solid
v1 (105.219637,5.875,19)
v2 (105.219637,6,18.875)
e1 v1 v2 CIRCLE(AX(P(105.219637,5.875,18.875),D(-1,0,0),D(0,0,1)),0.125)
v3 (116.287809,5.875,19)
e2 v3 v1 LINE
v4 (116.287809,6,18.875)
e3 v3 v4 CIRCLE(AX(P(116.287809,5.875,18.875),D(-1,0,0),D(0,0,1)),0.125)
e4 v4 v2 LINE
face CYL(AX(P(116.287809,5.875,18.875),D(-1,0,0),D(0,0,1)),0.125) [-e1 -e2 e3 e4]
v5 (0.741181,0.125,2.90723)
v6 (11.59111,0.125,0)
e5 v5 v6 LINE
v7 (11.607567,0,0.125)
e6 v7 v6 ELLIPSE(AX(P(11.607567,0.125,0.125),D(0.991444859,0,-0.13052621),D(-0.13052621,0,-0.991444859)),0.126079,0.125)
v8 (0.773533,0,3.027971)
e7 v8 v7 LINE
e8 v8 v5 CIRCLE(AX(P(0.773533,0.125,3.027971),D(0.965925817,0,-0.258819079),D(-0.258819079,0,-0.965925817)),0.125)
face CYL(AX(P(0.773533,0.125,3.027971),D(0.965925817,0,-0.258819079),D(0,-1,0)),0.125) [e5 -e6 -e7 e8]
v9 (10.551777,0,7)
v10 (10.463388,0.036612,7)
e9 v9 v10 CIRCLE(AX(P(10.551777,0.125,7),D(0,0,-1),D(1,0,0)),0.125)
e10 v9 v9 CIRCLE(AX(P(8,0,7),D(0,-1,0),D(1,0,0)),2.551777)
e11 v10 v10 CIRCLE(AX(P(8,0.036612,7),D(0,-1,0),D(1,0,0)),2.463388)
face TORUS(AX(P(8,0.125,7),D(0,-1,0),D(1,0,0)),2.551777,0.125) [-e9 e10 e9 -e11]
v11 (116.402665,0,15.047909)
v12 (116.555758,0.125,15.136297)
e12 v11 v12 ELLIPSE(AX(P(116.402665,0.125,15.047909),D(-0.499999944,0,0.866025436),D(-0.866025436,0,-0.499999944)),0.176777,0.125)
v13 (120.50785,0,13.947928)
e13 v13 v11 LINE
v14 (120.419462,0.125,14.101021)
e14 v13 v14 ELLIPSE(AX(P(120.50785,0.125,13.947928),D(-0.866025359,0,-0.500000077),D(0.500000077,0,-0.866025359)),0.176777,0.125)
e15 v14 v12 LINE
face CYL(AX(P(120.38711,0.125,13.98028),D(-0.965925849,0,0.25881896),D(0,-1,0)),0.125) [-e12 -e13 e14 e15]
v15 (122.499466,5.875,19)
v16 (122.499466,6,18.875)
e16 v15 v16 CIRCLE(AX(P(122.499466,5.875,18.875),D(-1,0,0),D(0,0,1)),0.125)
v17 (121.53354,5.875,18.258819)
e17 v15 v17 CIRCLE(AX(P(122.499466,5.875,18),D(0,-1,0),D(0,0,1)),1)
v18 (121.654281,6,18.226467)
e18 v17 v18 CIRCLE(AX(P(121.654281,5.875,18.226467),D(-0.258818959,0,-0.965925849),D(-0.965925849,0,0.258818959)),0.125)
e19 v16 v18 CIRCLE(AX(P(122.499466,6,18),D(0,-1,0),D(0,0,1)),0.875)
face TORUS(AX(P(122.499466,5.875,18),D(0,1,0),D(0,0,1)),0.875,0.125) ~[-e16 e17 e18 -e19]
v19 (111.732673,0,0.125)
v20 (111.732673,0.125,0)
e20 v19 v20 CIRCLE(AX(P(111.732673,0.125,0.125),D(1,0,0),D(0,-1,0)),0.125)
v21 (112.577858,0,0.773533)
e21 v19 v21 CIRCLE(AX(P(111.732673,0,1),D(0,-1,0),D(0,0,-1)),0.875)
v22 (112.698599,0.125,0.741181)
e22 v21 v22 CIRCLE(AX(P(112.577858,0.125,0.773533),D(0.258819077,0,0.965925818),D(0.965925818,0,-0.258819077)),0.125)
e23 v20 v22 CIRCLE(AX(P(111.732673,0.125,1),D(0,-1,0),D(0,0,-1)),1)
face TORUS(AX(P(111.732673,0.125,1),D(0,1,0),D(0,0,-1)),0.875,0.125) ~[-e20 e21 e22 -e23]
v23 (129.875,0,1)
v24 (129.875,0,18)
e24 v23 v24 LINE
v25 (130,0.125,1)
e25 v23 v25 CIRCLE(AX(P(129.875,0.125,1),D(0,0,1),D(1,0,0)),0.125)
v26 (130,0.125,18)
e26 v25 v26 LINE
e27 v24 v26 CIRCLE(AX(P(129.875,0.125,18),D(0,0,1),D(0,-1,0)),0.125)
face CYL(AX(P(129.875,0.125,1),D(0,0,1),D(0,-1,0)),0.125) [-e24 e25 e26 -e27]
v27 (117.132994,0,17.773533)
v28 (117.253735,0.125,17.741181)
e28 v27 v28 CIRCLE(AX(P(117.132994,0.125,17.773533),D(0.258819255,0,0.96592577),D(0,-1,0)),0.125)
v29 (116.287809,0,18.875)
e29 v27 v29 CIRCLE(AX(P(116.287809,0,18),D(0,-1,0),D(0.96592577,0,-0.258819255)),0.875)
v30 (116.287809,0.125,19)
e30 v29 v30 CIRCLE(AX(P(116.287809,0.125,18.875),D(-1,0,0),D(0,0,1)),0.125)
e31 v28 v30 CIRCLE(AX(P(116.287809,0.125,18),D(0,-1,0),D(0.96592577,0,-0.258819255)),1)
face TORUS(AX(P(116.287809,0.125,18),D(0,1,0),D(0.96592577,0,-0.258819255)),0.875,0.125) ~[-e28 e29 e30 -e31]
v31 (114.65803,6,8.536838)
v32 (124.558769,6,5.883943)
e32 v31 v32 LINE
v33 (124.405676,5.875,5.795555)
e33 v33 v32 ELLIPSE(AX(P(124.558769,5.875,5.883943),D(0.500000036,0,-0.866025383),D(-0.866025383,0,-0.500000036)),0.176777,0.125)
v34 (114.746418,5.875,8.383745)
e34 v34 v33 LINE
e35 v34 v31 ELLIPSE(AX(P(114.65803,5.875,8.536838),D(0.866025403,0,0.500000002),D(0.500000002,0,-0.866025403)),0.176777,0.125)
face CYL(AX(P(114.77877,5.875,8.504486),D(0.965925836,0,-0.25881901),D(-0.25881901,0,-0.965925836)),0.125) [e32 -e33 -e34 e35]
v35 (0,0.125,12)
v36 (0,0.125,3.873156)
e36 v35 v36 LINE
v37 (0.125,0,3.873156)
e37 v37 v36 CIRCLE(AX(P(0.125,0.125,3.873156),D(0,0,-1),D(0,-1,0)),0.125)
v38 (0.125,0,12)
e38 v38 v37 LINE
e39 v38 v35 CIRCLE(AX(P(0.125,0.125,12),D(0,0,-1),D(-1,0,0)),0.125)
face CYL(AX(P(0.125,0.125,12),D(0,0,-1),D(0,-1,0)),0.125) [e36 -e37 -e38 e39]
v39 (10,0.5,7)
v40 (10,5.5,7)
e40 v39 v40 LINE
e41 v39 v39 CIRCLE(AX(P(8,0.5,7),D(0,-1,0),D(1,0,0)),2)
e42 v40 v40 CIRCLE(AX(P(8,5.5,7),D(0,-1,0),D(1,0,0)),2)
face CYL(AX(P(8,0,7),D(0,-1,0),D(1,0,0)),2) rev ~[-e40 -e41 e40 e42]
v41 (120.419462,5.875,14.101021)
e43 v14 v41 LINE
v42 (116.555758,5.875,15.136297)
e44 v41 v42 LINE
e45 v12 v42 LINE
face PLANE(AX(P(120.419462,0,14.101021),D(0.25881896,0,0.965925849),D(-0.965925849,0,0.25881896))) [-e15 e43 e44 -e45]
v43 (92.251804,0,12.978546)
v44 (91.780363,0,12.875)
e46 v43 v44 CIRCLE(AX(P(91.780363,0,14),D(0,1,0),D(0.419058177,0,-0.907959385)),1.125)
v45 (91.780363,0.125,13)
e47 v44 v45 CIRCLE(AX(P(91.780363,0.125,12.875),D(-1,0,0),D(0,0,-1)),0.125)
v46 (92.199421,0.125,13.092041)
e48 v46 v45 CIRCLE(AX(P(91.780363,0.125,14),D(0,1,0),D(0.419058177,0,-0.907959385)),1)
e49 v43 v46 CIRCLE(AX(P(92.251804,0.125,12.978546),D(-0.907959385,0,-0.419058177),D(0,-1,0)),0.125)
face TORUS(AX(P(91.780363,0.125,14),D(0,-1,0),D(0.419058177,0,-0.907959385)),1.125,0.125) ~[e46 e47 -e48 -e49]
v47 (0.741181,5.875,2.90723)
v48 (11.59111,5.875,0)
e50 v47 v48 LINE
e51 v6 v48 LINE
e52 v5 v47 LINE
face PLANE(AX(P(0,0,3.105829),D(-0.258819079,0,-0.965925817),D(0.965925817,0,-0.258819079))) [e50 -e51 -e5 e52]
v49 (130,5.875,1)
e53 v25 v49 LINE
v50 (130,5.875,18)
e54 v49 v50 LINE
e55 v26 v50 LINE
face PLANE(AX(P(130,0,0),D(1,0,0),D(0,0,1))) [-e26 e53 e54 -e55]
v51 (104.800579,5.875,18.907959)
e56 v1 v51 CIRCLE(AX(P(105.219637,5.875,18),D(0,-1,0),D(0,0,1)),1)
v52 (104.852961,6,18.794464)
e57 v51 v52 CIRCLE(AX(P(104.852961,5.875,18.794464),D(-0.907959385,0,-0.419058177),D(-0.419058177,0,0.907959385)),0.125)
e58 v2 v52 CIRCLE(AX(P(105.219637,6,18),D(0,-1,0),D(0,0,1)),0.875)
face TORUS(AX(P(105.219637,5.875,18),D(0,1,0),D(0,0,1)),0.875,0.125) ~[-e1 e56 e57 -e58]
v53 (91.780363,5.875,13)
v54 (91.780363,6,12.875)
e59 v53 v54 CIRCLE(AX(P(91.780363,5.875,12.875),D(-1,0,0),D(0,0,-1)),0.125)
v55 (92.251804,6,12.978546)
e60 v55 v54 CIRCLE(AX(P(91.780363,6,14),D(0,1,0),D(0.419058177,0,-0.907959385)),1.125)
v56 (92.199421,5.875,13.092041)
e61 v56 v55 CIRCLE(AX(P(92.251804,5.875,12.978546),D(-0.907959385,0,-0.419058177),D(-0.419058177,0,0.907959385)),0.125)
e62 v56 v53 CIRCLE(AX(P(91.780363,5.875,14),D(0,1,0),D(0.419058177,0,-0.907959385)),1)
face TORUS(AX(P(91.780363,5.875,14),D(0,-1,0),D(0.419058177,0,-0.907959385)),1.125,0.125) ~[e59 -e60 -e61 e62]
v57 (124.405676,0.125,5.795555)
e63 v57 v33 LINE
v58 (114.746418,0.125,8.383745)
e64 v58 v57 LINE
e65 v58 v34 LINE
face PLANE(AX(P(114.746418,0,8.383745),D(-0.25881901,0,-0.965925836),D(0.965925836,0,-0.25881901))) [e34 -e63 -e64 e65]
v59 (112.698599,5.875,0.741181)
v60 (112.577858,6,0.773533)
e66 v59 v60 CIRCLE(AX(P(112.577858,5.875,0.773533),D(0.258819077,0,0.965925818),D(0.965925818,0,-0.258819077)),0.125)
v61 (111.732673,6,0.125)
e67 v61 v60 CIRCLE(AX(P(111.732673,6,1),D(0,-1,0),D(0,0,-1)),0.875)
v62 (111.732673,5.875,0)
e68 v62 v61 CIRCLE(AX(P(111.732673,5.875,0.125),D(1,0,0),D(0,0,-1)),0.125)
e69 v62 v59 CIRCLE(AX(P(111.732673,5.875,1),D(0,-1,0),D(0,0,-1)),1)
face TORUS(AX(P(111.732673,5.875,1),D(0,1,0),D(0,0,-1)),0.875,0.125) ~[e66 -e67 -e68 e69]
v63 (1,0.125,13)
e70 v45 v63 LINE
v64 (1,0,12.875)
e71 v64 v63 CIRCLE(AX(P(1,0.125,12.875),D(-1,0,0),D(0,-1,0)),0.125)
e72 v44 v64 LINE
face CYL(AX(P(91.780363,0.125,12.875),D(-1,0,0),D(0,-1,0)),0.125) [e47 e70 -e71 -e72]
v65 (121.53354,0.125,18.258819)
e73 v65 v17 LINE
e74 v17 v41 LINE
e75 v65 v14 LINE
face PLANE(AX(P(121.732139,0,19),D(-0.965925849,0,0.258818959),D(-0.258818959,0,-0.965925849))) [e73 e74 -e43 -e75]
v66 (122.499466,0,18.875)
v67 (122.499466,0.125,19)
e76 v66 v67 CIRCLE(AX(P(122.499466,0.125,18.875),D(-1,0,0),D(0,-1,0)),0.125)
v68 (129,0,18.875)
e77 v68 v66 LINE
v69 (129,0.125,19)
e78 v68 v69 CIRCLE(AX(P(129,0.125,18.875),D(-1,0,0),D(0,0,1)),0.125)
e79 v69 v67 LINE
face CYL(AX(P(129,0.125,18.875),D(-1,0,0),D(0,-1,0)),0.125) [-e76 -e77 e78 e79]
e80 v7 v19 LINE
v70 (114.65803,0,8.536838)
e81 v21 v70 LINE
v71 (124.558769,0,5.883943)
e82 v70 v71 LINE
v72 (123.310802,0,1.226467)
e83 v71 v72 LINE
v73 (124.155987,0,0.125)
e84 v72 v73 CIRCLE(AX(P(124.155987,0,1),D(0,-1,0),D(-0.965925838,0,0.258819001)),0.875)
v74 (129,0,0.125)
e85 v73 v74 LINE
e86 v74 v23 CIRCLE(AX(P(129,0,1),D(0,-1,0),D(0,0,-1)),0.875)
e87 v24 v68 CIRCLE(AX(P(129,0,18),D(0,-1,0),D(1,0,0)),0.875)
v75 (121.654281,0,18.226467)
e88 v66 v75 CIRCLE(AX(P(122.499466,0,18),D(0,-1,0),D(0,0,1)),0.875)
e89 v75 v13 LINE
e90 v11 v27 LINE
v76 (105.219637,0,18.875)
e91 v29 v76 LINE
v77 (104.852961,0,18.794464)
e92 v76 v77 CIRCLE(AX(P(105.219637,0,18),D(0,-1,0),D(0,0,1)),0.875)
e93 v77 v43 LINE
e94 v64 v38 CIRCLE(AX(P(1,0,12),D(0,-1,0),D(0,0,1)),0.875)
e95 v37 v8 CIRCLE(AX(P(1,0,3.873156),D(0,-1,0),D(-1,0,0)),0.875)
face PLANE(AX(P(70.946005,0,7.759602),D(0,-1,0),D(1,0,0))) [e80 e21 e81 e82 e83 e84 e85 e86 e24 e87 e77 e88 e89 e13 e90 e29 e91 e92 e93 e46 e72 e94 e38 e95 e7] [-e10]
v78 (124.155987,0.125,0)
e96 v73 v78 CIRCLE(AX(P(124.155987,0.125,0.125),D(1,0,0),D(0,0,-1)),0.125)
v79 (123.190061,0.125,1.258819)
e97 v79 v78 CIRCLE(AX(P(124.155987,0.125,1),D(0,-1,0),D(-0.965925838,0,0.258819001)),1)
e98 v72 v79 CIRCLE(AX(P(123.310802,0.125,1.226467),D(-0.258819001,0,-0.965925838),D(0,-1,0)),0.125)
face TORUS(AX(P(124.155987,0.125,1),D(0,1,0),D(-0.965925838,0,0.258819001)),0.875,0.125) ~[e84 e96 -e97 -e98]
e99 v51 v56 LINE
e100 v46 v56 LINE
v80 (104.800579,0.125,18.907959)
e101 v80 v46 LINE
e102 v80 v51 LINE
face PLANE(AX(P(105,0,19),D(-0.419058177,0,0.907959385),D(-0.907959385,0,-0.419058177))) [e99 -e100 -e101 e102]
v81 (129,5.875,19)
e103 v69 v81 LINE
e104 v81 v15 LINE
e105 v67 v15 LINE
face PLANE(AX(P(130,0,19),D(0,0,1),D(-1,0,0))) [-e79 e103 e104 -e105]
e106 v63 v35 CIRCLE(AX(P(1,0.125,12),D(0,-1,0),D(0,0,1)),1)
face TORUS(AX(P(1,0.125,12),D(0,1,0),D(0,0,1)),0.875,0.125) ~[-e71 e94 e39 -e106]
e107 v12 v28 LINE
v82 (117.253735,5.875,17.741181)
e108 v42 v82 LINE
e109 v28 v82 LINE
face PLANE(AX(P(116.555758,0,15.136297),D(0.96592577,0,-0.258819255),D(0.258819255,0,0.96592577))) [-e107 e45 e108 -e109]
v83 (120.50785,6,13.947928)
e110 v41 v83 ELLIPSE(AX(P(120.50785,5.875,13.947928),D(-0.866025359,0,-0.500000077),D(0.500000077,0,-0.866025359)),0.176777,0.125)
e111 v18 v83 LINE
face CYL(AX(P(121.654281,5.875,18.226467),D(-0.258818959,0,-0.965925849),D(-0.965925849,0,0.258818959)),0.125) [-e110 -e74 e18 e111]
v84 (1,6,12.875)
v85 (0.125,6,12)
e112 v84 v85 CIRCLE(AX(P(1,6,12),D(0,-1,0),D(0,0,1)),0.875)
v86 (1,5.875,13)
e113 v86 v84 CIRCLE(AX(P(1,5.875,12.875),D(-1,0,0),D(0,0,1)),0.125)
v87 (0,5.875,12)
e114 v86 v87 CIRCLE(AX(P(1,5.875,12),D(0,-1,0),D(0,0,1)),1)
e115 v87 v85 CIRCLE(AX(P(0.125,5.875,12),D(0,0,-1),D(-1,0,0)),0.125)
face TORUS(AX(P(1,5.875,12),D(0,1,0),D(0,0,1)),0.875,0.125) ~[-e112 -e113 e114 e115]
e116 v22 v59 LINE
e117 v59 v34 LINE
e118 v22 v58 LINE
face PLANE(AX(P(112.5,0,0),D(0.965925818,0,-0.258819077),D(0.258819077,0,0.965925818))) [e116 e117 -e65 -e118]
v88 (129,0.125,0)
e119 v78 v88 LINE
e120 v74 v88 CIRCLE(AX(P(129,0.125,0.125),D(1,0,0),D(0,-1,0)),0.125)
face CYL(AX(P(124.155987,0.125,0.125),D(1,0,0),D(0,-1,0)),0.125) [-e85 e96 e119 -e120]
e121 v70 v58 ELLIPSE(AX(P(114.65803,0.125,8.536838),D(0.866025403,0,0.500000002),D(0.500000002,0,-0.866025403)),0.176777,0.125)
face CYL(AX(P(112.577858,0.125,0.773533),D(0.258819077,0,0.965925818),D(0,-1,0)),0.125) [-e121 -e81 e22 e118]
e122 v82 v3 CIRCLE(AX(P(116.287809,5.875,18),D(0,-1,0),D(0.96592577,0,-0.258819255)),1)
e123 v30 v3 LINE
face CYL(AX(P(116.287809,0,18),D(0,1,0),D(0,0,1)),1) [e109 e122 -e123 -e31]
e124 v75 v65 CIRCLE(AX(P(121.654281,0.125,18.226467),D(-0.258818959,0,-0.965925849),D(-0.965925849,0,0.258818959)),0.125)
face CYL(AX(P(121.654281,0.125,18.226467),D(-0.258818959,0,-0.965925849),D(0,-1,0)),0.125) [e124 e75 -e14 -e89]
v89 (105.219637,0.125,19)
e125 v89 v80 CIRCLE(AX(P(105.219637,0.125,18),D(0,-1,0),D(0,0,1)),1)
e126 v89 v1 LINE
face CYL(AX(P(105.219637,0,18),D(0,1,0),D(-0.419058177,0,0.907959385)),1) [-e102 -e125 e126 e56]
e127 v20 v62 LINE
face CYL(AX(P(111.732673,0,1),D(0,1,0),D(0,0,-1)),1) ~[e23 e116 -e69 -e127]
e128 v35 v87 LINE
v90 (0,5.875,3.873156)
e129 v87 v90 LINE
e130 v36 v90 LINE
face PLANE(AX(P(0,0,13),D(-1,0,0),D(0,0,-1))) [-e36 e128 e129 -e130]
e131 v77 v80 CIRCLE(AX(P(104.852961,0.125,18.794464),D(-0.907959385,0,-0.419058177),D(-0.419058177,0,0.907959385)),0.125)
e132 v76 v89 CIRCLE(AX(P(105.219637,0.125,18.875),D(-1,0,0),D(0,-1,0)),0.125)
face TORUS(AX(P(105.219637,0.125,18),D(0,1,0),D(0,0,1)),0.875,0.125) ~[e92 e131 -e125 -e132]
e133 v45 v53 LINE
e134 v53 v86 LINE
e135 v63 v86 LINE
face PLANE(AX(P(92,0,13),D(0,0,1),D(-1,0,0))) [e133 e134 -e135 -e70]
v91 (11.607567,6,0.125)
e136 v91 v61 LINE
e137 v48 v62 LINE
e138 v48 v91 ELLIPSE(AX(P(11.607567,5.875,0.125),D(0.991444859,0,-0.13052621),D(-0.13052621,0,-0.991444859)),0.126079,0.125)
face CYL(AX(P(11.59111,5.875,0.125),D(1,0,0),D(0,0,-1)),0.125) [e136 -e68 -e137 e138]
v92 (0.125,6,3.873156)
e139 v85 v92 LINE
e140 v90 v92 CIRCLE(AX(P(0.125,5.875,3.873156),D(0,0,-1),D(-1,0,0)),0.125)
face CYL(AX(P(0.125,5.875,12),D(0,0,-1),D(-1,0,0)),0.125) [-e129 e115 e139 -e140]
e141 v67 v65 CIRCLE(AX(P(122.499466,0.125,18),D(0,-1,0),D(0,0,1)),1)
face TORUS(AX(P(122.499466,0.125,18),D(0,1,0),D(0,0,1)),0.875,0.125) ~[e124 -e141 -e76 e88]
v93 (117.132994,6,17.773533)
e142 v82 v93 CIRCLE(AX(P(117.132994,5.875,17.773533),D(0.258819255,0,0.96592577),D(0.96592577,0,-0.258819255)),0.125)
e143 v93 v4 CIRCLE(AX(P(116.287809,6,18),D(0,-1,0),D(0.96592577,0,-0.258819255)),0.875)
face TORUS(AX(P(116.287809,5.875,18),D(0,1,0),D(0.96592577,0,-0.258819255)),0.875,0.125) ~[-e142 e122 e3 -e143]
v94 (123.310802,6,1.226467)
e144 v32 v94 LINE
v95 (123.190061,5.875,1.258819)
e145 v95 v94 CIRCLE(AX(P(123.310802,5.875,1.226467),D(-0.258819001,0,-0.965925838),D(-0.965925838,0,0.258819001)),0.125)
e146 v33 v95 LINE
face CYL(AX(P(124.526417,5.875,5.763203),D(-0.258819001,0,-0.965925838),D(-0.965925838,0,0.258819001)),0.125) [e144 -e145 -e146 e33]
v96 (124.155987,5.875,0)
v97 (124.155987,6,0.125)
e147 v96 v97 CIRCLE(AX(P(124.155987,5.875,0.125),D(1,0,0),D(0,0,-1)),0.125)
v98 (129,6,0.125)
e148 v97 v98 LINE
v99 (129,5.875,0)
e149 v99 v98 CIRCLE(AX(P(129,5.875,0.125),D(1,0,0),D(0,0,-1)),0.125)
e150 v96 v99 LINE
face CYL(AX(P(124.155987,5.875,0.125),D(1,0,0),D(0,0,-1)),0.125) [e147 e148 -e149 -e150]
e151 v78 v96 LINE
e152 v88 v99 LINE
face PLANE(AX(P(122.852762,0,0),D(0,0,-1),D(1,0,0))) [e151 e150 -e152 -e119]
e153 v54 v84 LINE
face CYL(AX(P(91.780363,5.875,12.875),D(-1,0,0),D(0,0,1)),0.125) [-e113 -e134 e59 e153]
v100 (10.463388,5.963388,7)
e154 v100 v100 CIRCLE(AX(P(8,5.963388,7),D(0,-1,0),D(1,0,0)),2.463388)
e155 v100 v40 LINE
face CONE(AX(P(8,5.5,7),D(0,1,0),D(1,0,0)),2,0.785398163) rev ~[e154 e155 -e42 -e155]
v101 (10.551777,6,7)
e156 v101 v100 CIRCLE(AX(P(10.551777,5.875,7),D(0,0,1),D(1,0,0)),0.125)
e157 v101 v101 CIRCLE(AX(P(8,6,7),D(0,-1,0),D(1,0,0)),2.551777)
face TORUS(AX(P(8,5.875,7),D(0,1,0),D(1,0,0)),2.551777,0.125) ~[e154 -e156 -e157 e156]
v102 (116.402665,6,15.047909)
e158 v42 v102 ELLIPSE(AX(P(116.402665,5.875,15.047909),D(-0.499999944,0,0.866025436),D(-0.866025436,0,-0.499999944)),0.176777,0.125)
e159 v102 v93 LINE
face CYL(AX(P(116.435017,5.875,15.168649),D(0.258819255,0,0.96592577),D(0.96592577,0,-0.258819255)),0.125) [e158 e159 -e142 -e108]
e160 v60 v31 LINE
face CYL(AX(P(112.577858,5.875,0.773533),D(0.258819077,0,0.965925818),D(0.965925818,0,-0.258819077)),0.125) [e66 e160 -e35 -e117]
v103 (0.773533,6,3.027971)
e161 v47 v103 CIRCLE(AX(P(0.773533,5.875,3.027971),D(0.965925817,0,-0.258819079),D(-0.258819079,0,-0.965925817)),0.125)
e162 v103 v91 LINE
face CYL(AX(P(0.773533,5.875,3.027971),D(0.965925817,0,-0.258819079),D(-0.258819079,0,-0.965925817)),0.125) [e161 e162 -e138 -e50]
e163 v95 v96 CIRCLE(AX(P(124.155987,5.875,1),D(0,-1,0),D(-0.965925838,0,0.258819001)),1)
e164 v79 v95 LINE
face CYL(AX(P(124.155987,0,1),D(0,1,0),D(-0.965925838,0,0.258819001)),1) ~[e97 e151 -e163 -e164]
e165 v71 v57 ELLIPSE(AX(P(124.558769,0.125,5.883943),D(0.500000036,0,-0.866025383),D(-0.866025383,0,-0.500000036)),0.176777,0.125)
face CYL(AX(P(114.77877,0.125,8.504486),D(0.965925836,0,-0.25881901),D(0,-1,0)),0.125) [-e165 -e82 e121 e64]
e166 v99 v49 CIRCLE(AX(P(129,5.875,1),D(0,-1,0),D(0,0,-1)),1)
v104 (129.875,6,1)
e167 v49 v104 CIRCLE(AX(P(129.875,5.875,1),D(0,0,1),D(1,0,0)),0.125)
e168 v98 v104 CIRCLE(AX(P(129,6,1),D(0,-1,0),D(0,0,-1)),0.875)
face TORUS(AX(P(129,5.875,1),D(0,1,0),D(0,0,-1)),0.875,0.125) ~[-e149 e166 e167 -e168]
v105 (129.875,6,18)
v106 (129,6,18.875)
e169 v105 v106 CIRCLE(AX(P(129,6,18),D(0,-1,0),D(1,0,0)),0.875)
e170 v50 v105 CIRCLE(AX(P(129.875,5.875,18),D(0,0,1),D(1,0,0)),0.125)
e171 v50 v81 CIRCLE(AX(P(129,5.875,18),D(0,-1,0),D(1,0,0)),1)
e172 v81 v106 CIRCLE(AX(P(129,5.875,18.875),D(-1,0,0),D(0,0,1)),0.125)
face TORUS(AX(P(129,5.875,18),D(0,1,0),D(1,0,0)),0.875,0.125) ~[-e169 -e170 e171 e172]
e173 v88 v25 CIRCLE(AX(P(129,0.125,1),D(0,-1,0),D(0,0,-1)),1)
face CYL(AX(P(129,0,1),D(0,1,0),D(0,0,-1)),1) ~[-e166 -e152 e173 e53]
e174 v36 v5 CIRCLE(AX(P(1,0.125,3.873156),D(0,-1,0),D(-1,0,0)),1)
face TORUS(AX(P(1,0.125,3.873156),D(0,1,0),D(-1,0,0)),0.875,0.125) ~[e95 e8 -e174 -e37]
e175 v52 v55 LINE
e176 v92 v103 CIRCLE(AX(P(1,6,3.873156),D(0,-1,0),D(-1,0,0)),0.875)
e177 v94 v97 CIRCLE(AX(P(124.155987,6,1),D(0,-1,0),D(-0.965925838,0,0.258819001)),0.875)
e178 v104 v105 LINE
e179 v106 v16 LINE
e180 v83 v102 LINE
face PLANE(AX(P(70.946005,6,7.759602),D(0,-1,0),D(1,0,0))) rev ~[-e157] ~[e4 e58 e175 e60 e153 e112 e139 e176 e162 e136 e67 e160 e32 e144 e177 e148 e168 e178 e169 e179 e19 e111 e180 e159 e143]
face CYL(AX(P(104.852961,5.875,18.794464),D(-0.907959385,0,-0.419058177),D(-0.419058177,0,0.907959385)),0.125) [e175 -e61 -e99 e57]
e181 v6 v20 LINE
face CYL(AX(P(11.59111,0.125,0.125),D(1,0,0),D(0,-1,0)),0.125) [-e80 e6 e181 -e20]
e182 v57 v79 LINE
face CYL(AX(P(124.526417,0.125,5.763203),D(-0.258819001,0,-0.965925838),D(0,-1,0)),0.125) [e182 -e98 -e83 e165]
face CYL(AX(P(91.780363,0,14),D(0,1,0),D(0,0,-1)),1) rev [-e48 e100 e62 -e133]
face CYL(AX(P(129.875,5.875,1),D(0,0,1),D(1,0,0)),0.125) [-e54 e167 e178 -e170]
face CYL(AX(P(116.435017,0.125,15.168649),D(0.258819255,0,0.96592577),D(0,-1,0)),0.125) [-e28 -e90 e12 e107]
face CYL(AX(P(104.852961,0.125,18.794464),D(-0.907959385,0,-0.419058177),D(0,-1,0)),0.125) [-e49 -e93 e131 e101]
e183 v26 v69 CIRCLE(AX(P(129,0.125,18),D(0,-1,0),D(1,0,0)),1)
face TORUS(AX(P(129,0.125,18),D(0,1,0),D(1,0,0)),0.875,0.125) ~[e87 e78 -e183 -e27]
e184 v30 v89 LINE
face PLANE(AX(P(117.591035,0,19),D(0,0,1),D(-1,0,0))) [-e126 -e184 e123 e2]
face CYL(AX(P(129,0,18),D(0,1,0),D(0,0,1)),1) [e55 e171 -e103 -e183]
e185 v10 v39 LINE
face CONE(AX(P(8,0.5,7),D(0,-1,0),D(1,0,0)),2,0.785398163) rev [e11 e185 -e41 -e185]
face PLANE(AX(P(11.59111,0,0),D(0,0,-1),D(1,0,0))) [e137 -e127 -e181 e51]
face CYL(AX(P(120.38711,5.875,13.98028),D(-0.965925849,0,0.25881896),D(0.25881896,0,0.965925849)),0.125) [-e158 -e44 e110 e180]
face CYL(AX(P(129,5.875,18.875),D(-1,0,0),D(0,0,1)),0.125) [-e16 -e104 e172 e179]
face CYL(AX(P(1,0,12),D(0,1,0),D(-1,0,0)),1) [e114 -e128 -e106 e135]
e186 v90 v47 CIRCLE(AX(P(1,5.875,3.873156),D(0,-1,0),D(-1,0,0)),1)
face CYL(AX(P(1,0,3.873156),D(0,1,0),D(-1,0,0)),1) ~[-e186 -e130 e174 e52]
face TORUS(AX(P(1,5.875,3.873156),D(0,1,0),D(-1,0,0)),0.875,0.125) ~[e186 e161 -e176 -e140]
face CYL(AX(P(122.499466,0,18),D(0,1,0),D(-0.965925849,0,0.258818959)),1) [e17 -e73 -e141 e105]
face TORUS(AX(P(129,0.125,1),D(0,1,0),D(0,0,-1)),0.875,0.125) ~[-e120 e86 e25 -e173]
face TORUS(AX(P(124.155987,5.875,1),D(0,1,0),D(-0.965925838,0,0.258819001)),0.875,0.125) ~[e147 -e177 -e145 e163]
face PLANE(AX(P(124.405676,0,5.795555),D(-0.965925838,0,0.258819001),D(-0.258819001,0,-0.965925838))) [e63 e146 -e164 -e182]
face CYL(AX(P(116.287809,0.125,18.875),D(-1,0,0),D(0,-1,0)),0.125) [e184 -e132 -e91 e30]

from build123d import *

# Parameters (mm, degrees)
F0_R     = 2
F1_DEPTH = 6
F2_R     = 1
F3_SIZE  = 0.5
F4_R     = 0.125


with BuildPart() as f1:
    # F0 (on Front) → F1 (new body)
    with BuildSketch(Plane.XZ):
        Polygon((0, 13), (0, 3.105829), (11.59111, 0), (112.5, 0), (114.746418, 8.383745), (124.405676, 5.795555), (122.852762, 0), (130, 0), (130, 19), (121.732139, 19), (120.419462, 14.101021), (116.555758, 15.136297), (117.591035, 19), (105, 19), (92, 13), align=None)
        with Locations((8, 7)):
            Circle(F0_R, mode=Mode.SUBTRACT)
    extrude(amount=-F1_DEPTH)

    # F2
    f2_edges = [f1.edges().sort_by_distance(p)[0] for p in [
        (130, 3, 19),
        (130, 3, 0),
        (0, 3, 13),
        (92, 3, 13),
        (105, 3, 19),
        (121.732139, 3, 19),
        (122.852762, 3, 0),
        (117.591035, 3, 19),
        (112.5, 3, 0),
        (0, 3, 3.105829),
    ]]
    fillet(f2_edges, radius=F2_R)

    # F3
    f3_edges = [f1.edges().sort_by_distance(p)[0] for p in [
        (6, 6, 7),
        (6, 0, 7),
    ]]
    chamfer(f3_edges, length=F3_SIZE)

    # F4
    f4_edges = [f1.edges().sort_by_distance(p)[0] for p in [
        (5.5, 0, 7),
        (125.749733, 0, 19),
        (129.707107, 0, 18.707107),
        (121.890705, 0, 18.793353),
        (130, 0, 9.5),
        (120.976501, 0, 16.17992),
        (129.707107, 0, 0.292893),
        (118.48761, 0, 14.618659),
        (126.577994, 0, 0),
        (116.904747, 0, 16.438739),
        (123.362634, 0, 0.391239),
        (117.081163, 0, 18.608761),
        (123.797869, 0, 3.527187),
        (110.753723, 0, 19),
        (119.576047, 0, 7.08965),
        (105.005113, 0, 18.976719),
        (113.722508, 0, 4.562463),
        (98.5, 0, 16),
        (112.341434, 0, 0.206647),
        (91.994887, 0, 13.023281),
        (61.661891, 0, 0),
        (46.390182, 0, 13),
        (6.166145, 0, 1.453615),
        (0.292893, 0, 12.707107),
        (0.206647, 0, 3.264394),
        (0, 0, 7.936578),
        (5.5, 6, 7),
        (125.749733, 6, 19),
        (129.707107, 6, 18.707107),
        (121.890705, 6, 18.793353),
        (130, 6, 9.5),
        (120.976501, 6, 16.17992),
        (129.707107, 6, 0.292893),
        (118.48761, 6, 14.618659),
        (126.577994, 6, 0),
        (116.904747, 6, 16.438739),
        (123.362634, 6, 0.391239),
        (117.081163, 6, 18.608761),
        (123.797869, 6, 3.527187),
        (110.753723, 6, 19),
        (119.576047, 6, 7.08965),
        (105.005113, 6, 18.976719),
        (113.722508, 6, 4.562463),
        (98.5, 6, 16),
        (112.341434, 6, 0.206647),
        (91.994887, 6, 13.023281),
        (61.661891, 6, 0),
        (46.390182, 6, 13),
        (6.166145, 6, 1.453615),
        (0.292893, 6, 12.707107),
        (0.206647, 6, 3.264394),
        (0, 6, 7.936578),
    ]]
    fillet(f4_edges, radius=F4_R)


solid = f1.part
